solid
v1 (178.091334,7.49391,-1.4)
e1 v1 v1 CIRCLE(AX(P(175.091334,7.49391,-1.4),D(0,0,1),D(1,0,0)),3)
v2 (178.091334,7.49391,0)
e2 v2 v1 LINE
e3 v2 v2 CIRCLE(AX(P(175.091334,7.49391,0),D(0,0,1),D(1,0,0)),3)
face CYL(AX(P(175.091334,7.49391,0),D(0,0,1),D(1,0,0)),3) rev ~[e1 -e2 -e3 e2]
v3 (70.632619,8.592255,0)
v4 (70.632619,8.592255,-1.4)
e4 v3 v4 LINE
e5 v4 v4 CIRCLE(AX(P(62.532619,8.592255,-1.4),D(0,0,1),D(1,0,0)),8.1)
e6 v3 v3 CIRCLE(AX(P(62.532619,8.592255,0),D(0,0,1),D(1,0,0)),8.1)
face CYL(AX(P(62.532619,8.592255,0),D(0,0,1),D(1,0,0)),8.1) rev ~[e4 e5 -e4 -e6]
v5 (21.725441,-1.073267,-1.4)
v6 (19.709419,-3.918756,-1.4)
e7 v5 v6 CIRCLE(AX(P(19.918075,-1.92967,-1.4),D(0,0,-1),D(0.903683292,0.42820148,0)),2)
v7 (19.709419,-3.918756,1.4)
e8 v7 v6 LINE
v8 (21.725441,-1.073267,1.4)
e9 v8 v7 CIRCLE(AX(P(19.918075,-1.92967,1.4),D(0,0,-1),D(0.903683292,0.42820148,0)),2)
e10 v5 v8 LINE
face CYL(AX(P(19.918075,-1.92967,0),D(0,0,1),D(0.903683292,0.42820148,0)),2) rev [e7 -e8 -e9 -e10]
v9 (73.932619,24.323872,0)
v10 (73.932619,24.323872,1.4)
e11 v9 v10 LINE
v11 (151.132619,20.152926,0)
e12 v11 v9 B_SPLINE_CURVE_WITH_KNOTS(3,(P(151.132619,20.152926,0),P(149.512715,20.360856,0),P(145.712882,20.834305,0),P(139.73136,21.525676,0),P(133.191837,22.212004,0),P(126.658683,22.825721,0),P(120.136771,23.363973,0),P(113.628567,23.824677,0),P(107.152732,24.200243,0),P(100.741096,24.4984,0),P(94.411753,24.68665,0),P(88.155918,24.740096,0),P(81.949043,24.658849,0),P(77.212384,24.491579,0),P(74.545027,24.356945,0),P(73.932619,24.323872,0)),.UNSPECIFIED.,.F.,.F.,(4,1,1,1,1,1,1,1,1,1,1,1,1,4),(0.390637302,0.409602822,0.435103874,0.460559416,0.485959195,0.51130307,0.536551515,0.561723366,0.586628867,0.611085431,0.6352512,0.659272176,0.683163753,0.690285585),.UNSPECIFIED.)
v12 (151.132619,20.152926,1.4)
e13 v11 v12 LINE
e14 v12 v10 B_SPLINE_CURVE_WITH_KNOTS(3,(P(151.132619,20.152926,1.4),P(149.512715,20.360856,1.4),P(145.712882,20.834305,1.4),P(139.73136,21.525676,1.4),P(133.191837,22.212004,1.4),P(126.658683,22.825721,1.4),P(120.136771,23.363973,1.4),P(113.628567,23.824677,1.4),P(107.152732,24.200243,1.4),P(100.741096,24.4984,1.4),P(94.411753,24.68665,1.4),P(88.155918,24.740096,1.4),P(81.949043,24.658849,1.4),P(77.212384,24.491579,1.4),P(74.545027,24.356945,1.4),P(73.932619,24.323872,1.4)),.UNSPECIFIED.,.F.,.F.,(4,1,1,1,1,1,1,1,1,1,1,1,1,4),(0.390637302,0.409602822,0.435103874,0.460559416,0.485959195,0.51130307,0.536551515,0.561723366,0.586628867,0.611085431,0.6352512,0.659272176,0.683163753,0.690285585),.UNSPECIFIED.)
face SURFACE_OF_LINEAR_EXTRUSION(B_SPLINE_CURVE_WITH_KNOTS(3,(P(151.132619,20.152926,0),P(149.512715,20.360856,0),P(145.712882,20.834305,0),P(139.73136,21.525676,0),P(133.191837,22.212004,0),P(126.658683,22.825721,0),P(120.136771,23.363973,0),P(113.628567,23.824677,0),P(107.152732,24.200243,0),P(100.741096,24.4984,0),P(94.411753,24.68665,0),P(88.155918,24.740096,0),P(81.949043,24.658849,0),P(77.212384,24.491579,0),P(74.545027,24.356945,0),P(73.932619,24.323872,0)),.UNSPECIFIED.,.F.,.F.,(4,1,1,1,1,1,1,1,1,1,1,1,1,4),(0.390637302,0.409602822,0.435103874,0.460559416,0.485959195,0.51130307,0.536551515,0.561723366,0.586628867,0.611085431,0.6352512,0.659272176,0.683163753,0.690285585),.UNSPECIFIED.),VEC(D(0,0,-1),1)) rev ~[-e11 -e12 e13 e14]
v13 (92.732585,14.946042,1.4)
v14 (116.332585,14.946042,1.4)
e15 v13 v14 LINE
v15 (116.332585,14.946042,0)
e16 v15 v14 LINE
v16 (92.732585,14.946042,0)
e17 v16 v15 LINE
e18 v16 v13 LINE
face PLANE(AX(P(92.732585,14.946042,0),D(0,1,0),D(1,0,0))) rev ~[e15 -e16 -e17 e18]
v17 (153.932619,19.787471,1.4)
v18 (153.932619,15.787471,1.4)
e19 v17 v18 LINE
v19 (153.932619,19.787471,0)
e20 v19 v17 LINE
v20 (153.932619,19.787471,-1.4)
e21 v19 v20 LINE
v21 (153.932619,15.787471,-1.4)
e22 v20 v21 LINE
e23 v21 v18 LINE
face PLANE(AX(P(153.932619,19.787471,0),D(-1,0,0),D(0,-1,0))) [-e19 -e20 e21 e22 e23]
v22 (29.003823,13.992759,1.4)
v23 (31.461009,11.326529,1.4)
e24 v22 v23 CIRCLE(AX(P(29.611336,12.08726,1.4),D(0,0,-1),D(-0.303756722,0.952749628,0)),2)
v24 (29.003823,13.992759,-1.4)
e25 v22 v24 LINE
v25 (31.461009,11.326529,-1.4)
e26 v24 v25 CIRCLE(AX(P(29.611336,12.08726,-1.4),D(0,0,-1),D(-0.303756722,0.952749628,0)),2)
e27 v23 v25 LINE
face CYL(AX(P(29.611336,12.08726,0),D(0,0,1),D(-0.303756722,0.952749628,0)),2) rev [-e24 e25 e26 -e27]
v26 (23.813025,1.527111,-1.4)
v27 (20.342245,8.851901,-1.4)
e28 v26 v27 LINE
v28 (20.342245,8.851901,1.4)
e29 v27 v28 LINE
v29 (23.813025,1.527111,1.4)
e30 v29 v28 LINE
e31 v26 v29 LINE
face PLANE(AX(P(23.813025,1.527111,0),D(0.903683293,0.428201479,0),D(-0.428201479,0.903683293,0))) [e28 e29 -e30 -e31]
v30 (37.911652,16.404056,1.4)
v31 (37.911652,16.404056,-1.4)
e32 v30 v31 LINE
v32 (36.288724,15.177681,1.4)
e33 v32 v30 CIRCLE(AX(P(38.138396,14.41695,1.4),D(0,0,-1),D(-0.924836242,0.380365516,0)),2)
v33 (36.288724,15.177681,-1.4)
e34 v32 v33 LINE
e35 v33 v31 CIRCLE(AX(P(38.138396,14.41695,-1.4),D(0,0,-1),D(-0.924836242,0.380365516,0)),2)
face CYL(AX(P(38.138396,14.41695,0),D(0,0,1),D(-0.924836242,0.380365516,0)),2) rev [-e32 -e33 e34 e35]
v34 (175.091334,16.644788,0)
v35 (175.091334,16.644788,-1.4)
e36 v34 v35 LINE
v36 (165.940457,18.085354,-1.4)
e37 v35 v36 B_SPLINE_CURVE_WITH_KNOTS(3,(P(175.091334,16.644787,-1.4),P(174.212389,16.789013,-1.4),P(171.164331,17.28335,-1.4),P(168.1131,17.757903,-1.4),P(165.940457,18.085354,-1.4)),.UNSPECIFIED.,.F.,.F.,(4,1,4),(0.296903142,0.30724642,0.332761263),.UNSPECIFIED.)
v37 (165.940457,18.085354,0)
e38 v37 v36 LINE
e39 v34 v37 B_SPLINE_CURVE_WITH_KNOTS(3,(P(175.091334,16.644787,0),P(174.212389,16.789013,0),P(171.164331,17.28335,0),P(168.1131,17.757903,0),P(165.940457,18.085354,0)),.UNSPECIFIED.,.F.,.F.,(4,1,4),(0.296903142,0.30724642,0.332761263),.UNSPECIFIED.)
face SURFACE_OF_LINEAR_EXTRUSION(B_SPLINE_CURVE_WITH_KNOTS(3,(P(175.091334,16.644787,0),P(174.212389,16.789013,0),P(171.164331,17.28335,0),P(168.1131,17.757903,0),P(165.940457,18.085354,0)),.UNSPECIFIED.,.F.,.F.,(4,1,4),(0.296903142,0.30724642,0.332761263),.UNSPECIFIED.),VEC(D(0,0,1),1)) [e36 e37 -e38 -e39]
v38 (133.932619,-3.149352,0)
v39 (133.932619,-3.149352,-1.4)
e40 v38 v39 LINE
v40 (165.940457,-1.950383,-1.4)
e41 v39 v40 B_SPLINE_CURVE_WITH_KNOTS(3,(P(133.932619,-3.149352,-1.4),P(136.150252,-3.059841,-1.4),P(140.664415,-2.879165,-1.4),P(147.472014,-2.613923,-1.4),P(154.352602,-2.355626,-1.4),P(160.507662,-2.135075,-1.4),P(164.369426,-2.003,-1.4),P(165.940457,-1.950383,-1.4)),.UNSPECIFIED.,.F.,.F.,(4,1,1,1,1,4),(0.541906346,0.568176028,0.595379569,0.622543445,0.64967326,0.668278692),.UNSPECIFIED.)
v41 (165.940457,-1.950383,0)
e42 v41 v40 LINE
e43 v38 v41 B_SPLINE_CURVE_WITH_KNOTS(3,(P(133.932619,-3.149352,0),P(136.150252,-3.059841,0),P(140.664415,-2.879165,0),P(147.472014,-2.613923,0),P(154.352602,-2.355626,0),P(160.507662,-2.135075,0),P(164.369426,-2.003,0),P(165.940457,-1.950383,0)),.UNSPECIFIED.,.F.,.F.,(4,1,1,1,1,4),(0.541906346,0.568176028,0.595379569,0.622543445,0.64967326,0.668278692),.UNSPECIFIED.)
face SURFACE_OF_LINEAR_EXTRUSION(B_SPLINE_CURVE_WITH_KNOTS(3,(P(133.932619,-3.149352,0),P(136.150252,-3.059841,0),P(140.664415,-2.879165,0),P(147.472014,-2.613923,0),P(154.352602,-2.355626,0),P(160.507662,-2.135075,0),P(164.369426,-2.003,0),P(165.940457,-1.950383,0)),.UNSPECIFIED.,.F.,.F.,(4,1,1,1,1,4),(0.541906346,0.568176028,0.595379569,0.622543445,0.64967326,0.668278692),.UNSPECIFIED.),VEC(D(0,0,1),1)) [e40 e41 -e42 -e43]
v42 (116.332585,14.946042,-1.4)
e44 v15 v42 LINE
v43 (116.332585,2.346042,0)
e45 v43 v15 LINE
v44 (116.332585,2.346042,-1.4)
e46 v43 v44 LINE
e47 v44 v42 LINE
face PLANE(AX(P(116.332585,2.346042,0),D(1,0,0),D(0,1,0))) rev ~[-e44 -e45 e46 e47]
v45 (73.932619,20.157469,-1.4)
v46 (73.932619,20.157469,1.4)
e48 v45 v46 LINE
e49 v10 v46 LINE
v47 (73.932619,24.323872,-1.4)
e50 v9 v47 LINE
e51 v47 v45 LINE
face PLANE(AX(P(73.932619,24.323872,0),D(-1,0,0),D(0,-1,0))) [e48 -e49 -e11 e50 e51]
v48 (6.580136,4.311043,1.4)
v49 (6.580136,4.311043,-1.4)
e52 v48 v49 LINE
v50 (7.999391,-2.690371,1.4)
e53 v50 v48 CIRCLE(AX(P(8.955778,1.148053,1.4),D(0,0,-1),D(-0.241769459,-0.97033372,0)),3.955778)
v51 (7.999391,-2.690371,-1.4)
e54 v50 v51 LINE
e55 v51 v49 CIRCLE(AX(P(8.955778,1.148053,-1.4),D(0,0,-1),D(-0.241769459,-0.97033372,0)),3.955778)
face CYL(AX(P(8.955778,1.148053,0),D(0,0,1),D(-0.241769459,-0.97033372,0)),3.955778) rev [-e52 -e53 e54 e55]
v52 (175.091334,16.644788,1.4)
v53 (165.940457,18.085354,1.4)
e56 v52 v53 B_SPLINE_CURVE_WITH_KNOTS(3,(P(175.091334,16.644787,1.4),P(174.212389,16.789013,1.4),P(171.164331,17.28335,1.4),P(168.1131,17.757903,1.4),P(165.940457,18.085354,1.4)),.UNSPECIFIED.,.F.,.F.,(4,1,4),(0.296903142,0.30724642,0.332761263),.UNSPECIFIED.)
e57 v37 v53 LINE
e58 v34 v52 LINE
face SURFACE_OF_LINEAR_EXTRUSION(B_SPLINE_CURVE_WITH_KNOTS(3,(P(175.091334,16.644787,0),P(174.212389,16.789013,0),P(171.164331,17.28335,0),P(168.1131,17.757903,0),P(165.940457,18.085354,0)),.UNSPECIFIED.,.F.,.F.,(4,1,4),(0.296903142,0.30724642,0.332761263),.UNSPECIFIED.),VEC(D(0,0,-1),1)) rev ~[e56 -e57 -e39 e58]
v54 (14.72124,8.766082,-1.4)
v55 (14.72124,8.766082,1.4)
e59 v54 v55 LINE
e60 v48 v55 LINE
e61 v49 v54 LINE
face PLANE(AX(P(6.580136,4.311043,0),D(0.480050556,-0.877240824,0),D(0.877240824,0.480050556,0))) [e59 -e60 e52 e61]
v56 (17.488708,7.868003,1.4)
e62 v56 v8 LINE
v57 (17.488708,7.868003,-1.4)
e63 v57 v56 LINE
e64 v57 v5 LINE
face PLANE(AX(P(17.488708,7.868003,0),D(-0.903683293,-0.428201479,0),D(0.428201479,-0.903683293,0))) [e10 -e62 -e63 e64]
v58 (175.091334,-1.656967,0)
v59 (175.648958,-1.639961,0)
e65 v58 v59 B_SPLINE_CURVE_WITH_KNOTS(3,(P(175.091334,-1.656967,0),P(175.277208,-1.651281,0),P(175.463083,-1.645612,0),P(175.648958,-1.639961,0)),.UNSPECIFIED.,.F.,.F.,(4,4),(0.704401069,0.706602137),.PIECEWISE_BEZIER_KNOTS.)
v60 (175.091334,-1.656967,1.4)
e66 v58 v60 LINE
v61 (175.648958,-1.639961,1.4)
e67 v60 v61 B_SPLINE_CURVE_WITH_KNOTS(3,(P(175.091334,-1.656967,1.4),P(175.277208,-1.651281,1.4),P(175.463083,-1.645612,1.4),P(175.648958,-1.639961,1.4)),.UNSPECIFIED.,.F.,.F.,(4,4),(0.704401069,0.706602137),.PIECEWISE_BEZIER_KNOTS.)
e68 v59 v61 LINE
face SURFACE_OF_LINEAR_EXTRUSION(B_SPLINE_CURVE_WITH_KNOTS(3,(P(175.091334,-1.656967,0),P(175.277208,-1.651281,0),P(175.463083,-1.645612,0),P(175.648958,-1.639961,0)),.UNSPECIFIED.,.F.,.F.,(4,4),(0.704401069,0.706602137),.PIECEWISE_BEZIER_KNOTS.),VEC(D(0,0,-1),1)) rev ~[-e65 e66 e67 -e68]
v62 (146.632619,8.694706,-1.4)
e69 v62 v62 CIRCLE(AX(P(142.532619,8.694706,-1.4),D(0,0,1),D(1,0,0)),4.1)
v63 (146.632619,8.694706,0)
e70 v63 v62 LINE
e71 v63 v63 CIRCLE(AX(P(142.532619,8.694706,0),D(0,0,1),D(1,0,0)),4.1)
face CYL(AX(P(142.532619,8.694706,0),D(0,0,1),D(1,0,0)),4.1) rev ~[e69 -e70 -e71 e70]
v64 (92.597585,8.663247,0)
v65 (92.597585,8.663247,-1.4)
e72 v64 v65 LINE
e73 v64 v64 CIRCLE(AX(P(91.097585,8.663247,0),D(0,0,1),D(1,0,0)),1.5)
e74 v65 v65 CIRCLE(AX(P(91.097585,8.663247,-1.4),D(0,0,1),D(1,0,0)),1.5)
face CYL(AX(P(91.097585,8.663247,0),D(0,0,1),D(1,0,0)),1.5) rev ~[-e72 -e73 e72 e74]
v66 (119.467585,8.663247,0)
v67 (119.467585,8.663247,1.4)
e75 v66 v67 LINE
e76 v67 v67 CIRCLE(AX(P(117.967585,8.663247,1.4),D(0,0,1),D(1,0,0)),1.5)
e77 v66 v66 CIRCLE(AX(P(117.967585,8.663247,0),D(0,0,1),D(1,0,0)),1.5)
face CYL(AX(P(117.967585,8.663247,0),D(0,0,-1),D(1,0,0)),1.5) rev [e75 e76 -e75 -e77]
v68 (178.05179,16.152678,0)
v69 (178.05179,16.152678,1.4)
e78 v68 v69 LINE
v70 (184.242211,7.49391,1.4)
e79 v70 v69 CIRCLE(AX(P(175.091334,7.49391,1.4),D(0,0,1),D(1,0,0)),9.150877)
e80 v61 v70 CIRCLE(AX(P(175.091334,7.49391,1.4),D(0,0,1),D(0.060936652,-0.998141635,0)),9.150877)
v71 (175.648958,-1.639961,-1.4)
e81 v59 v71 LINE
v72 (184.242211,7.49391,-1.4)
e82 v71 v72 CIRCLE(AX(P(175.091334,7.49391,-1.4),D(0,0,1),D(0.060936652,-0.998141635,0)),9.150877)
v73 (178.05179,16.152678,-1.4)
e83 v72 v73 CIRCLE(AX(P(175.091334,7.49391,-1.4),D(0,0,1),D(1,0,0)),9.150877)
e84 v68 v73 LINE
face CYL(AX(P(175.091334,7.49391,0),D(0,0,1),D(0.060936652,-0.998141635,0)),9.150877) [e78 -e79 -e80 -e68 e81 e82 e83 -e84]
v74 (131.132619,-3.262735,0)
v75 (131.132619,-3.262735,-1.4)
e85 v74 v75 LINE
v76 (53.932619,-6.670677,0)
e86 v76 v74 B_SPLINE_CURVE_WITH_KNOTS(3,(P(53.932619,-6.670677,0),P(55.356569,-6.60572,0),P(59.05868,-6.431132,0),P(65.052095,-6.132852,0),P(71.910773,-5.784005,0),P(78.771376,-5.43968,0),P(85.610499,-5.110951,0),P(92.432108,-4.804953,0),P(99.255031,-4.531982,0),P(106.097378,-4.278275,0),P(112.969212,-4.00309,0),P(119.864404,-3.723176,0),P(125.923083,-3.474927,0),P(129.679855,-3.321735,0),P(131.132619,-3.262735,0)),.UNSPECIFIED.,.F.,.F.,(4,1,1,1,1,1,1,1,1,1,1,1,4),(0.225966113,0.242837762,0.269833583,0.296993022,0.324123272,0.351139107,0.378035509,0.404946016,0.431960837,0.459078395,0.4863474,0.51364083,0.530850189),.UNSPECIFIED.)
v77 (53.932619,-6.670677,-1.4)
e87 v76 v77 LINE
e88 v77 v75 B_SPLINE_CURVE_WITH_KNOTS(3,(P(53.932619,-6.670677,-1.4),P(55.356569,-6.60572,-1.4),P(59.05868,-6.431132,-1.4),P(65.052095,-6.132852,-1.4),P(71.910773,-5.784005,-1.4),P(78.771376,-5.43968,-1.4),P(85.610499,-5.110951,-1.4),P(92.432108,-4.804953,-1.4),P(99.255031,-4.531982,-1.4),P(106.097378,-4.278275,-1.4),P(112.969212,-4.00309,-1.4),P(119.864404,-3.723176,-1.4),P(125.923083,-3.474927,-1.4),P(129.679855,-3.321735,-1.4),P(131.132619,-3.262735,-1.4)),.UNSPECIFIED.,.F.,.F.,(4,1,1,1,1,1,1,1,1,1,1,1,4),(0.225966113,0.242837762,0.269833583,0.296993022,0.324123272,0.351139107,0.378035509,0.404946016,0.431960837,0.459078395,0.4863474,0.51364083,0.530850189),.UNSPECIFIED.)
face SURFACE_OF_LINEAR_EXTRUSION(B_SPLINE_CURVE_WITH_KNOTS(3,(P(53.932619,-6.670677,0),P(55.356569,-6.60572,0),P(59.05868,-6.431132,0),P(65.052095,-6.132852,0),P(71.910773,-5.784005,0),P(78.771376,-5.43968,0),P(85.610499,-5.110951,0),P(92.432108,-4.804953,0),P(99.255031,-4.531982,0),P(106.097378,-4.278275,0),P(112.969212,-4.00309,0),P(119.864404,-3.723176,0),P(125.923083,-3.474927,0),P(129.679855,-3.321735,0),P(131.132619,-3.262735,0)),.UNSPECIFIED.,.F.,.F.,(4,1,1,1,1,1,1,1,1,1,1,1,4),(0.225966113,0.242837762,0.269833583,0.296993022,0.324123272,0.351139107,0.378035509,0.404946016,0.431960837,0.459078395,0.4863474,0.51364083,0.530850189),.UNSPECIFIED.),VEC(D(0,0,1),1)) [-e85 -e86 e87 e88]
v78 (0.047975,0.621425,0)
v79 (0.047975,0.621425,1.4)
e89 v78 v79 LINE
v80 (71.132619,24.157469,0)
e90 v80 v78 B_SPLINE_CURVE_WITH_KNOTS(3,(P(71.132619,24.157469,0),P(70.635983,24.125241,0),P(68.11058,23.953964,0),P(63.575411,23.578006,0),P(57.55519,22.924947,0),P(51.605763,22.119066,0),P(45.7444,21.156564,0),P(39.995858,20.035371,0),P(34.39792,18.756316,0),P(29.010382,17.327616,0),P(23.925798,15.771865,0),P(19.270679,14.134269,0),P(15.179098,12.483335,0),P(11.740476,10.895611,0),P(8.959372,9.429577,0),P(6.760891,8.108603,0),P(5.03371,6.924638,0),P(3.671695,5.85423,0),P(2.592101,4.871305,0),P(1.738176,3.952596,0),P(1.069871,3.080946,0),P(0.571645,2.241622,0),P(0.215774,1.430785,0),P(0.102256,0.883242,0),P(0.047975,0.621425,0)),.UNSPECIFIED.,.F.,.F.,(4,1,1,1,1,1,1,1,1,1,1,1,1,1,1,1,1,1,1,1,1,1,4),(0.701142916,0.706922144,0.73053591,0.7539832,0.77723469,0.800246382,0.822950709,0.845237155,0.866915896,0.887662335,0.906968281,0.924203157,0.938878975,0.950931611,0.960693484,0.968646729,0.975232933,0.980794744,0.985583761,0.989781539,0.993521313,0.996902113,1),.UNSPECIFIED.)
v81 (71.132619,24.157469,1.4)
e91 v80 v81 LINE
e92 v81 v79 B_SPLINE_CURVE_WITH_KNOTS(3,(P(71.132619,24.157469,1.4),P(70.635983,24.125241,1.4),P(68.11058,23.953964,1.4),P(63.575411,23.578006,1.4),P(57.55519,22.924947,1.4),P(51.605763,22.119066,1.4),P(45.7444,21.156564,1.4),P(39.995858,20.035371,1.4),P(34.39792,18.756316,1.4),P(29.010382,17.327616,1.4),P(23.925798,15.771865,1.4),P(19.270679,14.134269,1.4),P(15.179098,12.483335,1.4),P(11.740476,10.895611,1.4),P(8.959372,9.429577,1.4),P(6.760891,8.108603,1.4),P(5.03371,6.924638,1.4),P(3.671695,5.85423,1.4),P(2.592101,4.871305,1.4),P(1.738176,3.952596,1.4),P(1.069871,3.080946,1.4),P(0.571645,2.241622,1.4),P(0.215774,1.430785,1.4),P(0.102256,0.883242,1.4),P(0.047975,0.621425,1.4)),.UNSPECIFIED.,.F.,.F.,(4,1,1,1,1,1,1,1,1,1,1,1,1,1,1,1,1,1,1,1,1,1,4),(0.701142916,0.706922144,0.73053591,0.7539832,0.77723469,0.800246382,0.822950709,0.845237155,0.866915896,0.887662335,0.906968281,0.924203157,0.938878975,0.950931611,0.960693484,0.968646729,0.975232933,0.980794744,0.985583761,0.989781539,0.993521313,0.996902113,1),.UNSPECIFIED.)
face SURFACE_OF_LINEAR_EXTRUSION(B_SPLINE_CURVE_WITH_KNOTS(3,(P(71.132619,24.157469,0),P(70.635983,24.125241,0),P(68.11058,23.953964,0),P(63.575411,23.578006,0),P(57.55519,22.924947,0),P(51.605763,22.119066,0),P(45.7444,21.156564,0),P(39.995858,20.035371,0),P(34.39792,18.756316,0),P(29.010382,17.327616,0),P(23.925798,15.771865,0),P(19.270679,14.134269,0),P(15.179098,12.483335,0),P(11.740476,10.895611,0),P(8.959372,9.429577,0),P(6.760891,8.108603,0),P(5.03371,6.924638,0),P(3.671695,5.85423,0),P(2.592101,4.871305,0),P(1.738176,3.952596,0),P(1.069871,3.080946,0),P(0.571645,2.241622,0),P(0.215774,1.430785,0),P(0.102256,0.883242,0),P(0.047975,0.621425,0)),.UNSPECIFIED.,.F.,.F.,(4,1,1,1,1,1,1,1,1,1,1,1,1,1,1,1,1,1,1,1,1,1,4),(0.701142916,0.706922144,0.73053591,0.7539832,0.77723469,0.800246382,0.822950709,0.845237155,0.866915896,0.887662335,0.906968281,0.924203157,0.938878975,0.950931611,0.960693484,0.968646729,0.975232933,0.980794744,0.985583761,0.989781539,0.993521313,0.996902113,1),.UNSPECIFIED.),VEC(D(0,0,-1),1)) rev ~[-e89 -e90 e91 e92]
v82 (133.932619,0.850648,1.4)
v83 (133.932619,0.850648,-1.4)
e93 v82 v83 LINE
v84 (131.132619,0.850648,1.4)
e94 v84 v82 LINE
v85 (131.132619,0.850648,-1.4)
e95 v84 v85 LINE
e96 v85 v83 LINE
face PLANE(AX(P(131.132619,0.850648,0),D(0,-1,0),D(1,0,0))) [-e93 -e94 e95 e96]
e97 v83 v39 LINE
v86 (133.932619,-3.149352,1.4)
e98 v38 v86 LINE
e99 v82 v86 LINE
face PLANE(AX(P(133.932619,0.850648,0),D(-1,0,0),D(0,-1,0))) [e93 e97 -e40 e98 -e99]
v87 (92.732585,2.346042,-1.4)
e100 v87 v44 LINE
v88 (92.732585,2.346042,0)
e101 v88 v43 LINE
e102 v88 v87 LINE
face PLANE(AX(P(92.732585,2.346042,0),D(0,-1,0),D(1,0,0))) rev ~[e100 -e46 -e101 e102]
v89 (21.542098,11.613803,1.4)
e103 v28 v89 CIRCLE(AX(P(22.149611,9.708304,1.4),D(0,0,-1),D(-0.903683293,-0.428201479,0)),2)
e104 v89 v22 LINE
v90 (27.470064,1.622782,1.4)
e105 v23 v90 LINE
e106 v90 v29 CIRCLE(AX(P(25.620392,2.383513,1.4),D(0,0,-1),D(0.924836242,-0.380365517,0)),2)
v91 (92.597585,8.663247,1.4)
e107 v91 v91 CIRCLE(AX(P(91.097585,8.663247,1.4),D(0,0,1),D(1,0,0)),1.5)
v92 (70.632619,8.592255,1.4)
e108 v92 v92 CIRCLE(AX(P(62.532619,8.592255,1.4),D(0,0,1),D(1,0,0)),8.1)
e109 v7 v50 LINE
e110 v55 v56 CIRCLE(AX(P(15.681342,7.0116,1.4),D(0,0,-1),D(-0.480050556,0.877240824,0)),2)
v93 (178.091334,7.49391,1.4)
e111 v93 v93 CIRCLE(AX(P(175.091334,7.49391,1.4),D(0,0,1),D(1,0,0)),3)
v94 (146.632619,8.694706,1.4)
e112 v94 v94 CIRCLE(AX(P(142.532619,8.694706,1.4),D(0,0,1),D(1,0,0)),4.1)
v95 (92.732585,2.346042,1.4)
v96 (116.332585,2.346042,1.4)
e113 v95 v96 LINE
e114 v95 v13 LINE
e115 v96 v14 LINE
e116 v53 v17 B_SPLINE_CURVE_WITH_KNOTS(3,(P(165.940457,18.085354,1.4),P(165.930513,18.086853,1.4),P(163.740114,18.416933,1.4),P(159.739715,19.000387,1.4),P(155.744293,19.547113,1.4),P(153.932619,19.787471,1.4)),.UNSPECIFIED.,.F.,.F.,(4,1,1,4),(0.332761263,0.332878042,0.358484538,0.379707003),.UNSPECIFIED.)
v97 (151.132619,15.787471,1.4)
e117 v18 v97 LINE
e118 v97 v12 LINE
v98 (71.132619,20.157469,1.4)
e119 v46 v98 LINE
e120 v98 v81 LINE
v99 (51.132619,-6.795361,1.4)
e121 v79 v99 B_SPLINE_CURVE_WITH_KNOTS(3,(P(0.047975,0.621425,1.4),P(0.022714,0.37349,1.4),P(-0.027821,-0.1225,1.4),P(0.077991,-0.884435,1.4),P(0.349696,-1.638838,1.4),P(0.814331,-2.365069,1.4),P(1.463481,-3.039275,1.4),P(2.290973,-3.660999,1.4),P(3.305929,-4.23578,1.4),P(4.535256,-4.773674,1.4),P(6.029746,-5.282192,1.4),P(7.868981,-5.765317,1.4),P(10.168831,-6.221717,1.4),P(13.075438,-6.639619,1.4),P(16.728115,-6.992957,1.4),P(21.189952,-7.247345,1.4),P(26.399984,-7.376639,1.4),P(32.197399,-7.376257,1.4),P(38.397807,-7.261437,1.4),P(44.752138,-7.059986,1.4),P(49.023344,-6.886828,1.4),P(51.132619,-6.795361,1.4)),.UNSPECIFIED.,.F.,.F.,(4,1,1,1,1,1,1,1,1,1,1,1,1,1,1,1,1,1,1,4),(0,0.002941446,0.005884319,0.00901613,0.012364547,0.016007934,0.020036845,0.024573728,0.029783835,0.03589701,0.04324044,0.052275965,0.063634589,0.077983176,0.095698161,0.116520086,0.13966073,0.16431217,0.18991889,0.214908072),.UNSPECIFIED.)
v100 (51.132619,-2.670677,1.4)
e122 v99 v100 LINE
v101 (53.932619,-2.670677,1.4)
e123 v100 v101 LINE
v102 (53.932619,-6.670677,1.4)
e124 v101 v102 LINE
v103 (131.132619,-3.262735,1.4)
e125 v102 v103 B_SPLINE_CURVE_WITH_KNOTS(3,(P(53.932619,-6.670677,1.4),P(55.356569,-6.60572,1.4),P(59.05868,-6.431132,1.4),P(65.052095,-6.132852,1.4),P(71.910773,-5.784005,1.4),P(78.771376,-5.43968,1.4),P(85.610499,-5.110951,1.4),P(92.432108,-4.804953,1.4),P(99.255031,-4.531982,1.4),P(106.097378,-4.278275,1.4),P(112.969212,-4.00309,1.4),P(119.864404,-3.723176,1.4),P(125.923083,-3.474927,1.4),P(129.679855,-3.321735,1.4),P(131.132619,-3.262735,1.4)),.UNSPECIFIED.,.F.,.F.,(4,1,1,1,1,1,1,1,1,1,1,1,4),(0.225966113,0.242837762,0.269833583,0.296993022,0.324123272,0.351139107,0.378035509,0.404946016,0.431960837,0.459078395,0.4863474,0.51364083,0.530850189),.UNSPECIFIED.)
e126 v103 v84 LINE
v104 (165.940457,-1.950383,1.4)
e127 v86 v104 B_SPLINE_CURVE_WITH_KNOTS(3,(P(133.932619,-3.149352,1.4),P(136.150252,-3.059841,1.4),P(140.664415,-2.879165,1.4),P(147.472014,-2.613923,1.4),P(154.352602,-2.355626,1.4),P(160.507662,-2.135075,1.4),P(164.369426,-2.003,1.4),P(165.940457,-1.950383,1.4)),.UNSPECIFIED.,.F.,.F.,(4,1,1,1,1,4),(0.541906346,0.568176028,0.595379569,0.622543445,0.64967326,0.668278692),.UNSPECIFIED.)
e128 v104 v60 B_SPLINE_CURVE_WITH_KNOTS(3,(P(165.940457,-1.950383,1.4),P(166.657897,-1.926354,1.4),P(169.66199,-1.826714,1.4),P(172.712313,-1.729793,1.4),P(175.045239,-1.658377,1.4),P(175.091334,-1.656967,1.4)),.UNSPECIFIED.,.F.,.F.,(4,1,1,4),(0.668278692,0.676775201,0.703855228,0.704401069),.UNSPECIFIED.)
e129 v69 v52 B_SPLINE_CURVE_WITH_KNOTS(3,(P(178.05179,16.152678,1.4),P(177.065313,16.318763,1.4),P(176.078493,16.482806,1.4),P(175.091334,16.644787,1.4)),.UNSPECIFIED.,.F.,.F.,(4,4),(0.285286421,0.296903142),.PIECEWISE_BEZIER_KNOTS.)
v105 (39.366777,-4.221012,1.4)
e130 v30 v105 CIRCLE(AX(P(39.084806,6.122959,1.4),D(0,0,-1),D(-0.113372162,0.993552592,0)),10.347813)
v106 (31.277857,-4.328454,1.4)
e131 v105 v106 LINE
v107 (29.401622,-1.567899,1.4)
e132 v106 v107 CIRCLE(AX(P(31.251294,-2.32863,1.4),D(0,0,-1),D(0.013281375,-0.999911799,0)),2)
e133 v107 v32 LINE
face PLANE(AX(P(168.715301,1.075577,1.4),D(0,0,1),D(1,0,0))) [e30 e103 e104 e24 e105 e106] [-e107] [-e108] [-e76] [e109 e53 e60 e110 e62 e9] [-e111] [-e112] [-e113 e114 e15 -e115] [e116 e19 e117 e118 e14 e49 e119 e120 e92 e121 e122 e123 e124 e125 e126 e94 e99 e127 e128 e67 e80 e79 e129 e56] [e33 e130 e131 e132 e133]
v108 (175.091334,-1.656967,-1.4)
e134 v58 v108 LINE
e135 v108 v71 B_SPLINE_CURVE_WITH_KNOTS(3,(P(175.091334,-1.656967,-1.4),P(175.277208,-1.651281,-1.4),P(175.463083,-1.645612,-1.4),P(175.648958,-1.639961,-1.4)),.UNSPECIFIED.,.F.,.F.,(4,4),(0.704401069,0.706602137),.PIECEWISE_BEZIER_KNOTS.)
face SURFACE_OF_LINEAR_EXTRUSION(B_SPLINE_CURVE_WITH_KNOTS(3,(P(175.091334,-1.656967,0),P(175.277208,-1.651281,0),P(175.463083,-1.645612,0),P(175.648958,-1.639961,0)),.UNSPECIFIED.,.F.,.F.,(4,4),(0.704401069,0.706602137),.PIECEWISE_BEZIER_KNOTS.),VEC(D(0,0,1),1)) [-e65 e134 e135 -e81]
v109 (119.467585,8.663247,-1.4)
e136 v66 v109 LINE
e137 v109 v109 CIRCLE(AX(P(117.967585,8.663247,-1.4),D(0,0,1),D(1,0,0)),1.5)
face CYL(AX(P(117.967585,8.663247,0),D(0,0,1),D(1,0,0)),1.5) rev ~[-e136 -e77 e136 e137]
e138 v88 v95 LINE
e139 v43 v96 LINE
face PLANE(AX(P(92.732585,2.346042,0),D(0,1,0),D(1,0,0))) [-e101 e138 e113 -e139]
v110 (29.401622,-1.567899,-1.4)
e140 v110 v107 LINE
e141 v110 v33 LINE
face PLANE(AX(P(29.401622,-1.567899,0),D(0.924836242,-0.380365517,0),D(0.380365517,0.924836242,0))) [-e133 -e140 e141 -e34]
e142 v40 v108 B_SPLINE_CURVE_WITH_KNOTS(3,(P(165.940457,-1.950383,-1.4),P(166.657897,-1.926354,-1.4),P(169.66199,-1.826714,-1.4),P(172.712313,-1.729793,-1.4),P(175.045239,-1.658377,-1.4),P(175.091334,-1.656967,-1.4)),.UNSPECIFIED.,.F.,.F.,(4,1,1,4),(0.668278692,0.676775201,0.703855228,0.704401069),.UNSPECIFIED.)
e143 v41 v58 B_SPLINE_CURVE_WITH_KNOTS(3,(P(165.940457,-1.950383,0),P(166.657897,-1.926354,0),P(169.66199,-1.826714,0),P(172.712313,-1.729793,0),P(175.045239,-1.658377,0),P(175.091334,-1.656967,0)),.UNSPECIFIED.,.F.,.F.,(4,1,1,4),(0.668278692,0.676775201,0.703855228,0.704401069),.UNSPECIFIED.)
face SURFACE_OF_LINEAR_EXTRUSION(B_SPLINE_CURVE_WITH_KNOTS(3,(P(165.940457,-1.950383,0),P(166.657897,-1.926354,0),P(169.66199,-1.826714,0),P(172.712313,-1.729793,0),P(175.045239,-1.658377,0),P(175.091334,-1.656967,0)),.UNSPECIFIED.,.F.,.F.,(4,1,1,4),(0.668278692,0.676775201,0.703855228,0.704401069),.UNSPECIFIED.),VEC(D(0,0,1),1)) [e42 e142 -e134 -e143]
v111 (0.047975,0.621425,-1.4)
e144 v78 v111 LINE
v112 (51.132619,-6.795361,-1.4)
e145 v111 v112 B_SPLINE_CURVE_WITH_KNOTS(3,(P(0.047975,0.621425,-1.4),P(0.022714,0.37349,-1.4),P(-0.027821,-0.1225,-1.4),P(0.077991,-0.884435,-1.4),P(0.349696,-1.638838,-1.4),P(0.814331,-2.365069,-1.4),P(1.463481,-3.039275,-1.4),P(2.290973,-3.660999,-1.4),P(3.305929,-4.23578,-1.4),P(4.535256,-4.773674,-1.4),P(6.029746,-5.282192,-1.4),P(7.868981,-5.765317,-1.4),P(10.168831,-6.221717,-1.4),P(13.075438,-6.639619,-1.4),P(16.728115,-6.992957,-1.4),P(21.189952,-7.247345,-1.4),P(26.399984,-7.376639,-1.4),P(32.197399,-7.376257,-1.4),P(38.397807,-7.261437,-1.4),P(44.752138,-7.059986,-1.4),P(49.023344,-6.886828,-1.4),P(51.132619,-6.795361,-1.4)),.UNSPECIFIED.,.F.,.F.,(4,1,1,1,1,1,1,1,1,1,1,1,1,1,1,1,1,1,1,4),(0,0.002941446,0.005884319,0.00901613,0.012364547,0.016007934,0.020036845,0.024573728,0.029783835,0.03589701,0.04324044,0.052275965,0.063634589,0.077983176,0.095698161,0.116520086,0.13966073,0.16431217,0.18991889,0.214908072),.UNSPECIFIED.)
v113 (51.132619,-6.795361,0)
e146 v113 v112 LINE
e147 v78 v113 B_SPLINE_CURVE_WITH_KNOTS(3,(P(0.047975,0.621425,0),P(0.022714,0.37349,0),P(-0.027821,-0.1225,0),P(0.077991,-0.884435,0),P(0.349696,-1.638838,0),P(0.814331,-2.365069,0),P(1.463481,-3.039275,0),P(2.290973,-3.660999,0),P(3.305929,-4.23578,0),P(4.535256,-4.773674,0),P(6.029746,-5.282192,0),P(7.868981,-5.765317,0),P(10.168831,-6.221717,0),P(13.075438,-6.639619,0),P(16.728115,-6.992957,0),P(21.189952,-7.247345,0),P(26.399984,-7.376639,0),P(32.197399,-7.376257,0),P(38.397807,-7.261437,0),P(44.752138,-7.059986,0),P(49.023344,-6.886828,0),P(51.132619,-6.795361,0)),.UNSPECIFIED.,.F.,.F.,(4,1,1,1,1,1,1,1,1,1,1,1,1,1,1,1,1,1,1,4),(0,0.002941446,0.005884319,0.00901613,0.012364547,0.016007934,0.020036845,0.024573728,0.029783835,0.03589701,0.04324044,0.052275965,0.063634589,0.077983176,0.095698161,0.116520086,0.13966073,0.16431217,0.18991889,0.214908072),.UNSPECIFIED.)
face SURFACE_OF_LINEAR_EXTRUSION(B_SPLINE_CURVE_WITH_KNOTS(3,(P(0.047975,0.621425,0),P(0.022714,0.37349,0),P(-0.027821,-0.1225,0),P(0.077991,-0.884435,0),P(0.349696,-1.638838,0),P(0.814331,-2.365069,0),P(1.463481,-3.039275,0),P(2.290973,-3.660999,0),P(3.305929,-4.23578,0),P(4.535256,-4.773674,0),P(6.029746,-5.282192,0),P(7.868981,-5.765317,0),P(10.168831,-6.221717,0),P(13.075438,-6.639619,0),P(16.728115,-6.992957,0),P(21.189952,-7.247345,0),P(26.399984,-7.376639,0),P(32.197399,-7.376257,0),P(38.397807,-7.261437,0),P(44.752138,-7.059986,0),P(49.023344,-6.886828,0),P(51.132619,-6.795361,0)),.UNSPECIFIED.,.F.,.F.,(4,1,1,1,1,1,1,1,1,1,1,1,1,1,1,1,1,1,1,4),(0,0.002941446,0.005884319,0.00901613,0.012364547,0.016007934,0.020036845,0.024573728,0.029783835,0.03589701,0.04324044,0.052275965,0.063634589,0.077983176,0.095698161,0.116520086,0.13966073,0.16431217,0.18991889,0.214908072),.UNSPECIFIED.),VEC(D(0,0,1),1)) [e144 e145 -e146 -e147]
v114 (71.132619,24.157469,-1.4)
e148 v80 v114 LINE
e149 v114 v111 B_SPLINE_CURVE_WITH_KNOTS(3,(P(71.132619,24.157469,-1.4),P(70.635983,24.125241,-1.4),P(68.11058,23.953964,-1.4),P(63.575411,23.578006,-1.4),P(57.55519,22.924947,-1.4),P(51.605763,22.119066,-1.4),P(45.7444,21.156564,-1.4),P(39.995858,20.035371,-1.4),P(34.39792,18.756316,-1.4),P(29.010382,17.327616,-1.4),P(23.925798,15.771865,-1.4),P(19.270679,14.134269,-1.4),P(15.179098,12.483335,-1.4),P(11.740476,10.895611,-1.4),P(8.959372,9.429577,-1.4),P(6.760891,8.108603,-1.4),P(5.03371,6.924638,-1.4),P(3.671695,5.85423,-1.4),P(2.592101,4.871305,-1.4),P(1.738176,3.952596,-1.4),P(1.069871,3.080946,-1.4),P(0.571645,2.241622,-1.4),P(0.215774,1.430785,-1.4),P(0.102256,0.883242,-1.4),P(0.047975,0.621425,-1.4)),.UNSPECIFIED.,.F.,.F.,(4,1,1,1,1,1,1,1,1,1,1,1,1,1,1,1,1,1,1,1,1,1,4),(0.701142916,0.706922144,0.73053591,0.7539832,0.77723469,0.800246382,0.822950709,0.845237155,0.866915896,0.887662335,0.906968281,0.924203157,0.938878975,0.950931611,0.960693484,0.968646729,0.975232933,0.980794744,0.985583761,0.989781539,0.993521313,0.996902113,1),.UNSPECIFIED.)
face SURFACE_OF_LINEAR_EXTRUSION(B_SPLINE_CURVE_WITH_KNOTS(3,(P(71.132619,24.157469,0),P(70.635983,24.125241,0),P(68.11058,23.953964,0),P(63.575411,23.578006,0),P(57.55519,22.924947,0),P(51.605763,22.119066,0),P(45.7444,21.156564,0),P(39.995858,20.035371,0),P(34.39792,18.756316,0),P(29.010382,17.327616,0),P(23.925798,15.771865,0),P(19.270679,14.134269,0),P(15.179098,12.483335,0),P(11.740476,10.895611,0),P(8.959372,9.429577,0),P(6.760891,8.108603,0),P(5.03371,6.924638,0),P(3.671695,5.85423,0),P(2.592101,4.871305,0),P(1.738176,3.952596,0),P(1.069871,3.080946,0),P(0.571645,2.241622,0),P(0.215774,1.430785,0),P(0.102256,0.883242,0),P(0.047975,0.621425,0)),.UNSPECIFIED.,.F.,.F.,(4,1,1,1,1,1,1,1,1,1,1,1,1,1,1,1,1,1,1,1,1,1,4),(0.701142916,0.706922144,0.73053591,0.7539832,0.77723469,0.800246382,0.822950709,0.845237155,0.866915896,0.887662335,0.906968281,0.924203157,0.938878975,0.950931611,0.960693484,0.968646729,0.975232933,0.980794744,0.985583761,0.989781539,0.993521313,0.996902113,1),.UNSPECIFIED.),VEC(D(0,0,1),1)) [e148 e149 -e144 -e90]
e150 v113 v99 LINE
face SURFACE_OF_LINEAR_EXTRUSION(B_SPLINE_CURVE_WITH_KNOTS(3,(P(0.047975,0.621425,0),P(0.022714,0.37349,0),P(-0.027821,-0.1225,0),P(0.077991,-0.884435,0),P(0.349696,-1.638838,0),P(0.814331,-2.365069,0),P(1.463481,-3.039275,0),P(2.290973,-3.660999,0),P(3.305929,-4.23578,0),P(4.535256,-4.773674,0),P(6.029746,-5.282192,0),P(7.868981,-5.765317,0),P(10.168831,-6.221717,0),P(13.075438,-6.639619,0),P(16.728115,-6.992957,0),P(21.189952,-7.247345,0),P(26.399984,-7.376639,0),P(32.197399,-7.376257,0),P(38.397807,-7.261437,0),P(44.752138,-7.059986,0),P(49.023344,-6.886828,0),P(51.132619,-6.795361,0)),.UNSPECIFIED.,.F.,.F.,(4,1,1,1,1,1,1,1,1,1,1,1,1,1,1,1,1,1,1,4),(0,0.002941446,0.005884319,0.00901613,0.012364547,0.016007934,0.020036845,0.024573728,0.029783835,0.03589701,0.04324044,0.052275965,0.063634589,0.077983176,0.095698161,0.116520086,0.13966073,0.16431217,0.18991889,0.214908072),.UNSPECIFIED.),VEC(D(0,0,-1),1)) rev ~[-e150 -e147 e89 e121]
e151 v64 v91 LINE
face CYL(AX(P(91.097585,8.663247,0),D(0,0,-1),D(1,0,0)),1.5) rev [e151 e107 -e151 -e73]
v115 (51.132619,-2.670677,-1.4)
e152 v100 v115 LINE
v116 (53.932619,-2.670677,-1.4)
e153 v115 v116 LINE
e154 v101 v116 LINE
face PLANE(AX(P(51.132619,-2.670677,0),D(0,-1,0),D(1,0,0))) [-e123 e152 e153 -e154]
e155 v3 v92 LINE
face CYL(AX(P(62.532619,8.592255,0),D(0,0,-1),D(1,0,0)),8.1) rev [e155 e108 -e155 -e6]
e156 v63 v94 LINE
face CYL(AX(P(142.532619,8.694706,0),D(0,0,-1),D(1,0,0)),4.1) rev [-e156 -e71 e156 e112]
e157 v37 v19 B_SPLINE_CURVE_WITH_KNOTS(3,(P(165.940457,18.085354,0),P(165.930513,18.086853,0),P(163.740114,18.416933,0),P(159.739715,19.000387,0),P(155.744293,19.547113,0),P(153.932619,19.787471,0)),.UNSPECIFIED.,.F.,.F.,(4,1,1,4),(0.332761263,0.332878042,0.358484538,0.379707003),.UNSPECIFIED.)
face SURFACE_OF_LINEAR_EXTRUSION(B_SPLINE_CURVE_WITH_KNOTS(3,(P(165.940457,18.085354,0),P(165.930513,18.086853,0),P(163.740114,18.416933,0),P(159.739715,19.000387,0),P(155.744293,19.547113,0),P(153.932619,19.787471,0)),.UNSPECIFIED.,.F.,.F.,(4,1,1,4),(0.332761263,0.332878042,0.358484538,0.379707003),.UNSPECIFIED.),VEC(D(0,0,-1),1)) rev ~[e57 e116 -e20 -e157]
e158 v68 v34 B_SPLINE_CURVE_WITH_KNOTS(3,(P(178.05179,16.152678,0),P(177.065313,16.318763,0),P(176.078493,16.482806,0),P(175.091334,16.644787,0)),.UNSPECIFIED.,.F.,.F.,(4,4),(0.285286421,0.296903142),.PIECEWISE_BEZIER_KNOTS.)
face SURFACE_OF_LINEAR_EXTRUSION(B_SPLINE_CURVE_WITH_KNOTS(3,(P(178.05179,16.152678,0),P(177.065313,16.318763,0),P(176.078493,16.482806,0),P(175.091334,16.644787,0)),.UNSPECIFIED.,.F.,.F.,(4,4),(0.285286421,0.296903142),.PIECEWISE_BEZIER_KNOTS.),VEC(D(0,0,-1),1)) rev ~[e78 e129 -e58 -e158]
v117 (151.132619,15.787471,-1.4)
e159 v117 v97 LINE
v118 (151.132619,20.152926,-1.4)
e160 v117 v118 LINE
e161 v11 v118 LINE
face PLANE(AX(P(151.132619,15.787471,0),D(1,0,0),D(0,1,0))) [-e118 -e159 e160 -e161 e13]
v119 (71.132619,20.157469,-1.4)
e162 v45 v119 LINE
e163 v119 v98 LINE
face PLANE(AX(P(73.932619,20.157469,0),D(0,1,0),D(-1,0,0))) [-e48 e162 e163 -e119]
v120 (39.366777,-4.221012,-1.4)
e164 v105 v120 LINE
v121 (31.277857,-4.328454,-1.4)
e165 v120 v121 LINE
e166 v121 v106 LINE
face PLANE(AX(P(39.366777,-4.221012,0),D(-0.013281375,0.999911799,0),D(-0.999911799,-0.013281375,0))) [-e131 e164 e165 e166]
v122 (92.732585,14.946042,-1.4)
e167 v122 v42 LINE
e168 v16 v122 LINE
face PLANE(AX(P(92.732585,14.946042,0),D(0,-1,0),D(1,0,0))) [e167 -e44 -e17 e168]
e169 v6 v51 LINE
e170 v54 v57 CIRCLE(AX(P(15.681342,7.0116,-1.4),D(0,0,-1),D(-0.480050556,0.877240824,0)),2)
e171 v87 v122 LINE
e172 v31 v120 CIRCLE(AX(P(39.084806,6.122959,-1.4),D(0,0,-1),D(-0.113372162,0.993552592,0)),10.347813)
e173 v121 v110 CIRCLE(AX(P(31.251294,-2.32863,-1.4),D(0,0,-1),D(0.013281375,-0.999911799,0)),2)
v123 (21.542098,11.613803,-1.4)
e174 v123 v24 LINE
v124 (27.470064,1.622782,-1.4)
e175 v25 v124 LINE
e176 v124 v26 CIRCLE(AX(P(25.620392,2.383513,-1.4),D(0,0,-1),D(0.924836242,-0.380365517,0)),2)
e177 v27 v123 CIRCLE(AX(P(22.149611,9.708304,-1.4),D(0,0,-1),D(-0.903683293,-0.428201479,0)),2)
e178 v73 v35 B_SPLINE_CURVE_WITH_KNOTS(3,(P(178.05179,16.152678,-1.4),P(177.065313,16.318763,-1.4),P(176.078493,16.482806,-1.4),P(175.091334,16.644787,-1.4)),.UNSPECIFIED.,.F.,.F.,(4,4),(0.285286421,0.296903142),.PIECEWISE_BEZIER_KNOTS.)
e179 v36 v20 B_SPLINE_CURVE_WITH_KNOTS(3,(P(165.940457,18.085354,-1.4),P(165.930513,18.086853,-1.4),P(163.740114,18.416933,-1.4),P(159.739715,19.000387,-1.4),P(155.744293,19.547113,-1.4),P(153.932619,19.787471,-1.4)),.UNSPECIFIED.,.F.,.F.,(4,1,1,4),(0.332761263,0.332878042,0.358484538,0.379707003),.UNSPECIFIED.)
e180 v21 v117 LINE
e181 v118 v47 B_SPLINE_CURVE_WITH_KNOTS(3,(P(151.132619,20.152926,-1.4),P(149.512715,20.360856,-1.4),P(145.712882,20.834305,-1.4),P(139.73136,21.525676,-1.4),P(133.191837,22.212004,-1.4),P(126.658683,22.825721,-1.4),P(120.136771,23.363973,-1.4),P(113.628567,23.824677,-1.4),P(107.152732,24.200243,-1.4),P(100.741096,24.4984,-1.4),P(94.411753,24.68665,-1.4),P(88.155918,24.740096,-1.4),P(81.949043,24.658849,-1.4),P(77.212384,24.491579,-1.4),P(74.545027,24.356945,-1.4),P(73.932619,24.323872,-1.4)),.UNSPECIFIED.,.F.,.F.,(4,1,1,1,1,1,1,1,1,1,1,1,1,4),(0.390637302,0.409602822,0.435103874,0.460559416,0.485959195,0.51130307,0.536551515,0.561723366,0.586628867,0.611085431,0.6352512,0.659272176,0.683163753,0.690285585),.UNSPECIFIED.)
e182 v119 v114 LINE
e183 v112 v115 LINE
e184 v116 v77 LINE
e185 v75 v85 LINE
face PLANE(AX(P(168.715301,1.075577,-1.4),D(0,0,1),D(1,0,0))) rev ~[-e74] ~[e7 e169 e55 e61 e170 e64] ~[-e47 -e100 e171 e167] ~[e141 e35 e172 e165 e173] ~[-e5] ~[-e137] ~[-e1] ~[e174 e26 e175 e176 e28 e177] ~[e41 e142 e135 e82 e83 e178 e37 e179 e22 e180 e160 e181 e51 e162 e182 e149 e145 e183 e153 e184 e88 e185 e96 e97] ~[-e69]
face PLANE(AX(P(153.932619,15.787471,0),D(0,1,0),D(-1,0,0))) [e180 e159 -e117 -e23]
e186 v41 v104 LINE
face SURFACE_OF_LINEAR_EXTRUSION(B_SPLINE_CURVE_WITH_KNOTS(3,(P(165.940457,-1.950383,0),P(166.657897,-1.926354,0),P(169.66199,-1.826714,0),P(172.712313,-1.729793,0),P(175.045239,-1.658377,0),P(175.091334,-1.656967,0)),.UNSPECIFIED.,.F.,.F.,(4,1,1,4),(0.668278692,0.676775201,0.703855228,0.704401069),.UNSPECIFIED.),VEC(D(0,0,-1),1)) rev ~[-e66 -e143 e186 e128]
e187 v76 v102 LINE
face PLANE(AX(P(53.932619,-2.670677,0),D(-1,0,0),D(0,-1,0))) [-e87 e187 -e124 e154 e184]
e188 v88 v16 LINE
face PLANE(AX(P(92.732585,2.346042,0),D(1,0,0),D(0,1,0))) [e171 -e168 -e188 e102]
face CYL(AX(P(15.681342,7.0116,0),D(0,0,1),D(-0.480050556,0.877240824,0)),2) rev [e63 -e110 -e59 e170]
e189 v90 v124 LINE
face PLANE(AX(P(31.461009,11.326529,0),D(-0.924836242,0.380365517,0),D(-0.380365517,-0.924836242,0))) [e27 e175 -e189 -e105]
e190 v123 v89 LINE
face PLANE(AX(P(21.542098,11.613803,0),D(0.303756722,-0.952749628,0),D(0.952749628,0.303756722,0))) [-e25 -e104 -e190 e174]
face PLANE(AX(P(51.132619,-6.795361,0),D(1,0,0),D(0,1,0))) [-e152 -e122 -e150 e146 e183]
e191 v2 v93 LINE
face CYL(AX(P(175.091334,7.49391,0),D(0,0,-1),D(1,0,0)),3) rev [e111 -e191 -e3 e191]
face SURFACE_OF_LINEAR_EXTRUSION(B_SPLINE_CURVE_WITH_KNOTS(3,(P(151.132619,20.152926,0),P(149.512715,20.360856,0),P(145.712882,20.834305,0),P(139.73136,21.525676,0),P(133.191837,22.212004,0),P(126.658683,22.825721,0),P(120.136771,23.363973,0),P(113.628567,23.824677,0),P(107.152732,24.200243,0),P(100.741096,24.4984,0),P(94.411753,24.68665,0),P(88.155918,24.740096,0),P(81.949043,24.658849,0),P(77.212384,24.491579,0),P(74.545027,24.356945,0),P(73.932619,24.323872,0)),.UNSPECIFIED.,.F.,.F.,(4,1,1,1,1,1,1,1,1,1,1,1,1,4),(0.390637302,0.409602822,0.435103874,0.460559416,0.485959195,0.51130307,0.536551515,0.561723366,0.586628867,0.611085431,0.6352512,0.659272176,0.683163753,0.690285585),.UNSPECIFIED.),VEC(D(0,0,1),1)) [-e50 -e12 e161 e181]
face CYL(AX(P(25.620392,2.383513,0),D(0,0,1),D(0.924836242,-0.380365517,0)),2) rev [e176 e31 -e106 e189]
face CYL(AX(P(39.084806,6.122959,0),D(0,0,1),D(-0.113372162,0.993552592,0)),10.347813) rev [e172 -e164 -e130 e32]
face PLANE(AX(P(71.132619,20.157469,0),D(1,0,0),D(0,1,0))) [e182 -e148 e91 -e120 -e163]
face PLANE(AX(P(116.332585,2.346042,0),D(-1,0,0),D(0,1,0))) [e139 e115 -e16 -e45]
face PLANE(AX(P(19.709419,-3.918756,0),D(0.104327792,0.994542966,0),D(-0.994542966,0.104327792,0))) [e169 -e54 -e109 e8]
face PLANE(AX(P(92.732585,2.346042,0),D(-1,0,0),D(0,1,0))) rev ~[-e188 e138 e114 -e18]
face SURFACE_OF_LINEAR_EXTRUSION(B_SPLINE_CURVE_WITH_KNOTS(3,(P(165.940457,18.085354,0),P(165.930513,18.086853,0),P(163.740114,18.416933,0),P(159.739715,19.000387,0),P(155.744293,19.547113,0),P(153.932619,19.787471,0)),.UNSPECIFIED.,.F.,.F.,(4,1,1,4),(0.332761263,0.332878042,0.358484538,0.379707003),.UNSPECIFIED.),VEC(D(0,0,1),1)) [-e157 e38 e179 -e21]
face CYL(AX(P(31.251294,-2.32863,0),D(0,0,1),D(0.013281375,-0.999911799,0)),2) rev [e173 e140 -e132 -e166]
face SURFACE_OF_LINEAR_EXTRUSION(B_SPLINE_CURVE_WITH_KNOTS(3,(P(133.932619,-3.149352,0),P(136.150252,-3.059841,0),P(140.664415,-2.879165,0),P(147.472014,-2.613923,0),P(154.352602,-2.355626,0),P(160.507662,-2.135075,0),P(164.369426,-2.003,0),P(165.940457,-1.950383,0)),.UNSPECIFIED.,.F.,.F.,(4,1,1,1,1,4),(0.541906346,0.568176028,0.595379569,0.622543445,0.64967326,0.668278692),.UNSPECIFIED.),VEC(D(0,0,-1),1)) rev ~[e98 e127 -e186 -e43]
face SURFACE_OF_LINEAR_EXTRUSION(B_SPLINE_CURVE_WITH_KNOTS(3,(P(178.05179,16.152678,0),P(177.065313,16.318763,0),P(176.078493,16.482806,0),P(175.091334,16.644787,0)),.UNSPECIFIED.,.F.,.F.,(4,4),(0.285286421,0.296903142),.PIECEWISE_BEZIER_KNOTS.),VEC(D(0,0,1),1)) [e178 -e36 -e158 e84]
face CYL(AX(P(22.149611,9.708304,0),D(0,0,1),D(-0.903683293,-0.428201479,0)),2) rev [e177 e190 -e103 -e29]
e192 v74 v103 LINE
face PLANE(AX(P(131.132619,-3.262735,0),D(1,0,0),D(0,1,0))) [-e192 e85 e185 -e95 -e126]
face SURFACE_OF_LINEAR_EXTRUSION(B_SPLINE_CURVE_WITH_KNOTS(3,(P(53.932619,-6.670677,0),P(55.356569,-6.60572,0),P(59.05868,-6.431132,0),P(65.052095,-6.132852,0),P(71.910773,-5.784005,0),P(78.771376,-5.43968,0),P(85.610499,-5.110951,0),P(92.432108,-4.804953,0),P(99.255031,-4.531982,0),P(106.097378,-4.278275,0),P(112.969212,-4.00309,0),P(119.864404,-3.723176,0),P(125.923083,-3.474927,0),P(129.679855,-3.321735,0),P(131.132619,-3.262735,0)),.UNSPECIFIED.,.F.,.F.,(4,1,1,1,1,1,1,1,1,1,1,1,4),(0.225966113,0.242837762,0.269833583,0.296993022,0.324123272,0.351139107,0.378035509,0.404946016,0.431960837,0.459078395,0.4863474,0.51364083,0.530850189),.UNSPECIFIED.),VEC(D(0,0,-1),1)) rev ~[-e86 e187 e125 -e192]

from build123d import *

# Parameters (mm, degrees)
SKETCH_2_R      = 8.1
SKETCH_2_R_2    = 1.5
SKETCH_2_W      = 23.6
SKETCH_2_H      = 12.6
SKETCH_2_R_3    = 4.1
SKETCH_2_R_4    = 3
EXTRUDE_2_DEPTH = 1.4


with BuildPart() as part:
    # Эскиз2 → Бобышка-Вытянуть2 (new, symmetric)
    # profile 1 of 4: a face of its own
    with BuildSketch(Plane.XY):
        with BuildLine():
            Line((165.940456932, 7.493910465), (165.940456932, 18.08535451))
            add(Edge.make_bspline(
                [(165.940456927, 18.085354477), (165.930512982, 18.086853188), (163.740114219, 18.416932942), (159.739714866, 19.000386852), (155.744292591, 19.547112651), (153.932619318, 19.787470759)],
                knots=[0.332761263, 0.332761263, 0.332761263, 0.332761263, 0.332878042, 0.358484538, 0.379707003, 0.379707003, 0.379707003, 0.379707003], degree=3))
            Line((153.932619318, 19.787470759), (153.932619318, 15.787470759))
            Line((153.932619318, 15.787470759), (151.132619318, 15.787470759))
            Line((151.132619318, 15.787470759), (151.132619318, 20.152925753))
            add(Edge.make_bspline(
                [(151.132619318, 20.152925753), (149.51271539, 20.360855756), (145.712882211, 20.834305053), (139.731359791, 21.525676112), (133.19183673, 22.212004248), (126.658683026, 22.825721427), (120.136770918, 23.363973264), (113.62856714, 23.824677322), (107.152732037, 24.200242592), (100.741095693, 24.498399508), (94.411752715, 24.686649766), (88.155917993, 24.740095648), (81.949043055, 24.658849141), (77.212383792, 24.491578654), (74.545027167, 24.35694527), (73.932619318, 24.323871534)],
                knots=[0.390637302, 0.390637302, 0.390637302, 0.390637302, 0.409602822, 0.435103874, 0.460559416, 0.485959195, 0.51130307, 0.536551515, 0.561723366, 0.586628867, 0.611085431, 0.6352512, 0.659272176, 0.683163753, 0.690285585, 0.690285585, 0.690285585, 0.690285585], degree=3))
            Line((73.932619318, 24.323871534), (73.932619318, 20.157469486))
            Line((73.932619318, 20.157469486), (71.132619318, 20.157469486))
            Line((71.132619318, 20.157469486), (71.132619318, 24.157469486))
            add(Edge.make_bspline(
                [(71.132619318, 24.157469486), (70.635982629, 24.125241372), (68.110579653, 23.953963558), (63.575410502, 23.578006358), (57.555189551, 22.924946655), (51.605762689, 22.119065518), (45.744400312, 21.156564429), (39.995857594, 20.035371386), (34.397919843, 18.75631623), (29.010382104, 17.327615604), (23.925798409, 15.771864917), (19.27067884, 14.13426943), (15.179098392, 12.483335433), (11.740475791, 10.89561099), (8.959371869, 9.429577361), (6.760891181, 8.108603195), (5.033709749, 6.92463805), (3.671694934, 5.85422966), (2.592101124, 4.871305364), (1.738175669, 3.952595739), (1.069870831, 3.080946369), (0.571645411, 2.241622098), (0.2157739, 1.430785392), (0.102255582, 0.88324169), (0.047975001, 0.621424995)],
                knots=[0.701142916, 0.701142916, 0.701142916, 0.701142916, 0.706922144, 0.73053591, 0.7539832, 0.77723469, 0.800246382, 0.822950709, 0.845237155, 0.866915896, 0.887662335, 0.906968281, 0.924203157, 0.938878975, 0.950931611, 0.960693484, 0.968646729, 0.975232933, 0.980794744, 0.985583761, 0.989781539, 0.993521313, 0.996902113, 1, 1, 1, 1], degree=3))
            add(Edge.make_bspline(
                [(0.047975001, 0.621424995), (0.022713821, 0.373490081), (-0.027820788, -0.12249998), (0.077991213, -0.884434595), (0.349695651, -1.638838075), (0.814331136, -2.365068928), (1.463480781, -3.039275249), (2.290973018, -3.660999474), (3.305928751, -4.235779626), (4.53525562, -4.773674148), (6.029745689, -5.282192169), (7.868981216, -5.765316681), (10.168831393, -6.221716597), (13.07543819, -6.639618735), (16.728115364, -6.992956742), (21.189952097, -7.247345149), (26.399984417, -7.376638853), (32.197398565, -7.376256917), (38.39780676, -7.261436583), (44.752137938, -7.05998551), (49.023344092, -6.886827907), (51.132619318, -6.795360627)],
                knots=[0, 0, 0, 0, 0.002941446, 0.005884319, 0.00901613, 0.012364547, 0.016007934, 0.020036845, 0.024573728, 0.029783835, 0.03589701, 0.04324044, 0.052275965, 0.063634589, 0.077983176, 0.095698161, 0.116520086, 0.13966073, 0.16431217, 0.18991889, 0.214908072, 0.214908072, 0.214908072, 0.214908072], degree=3))
            Line((51.132619318, -6.795360627), (51.132619318, -2.670677263))
            Line((51.132619318, -2.670677263), (53.932619318, -2.670677263))
            Line((53.932619318, -2.670677263), (53.932619318, -6.670677263))
            add(Edge.make_bspline(
                [(53.932619318, -6.670677263), (55.356569482, -6.605720394), (59.058679651, -6.431131786), (65.052094606, -6.13285227), (71.91077271, -5.784005184), (78.771375577, -5.439680462), (85.61049861, -5.110951262), (92.43210759, -4.804953337), (99.255031191, -4.531981668), (106.097378406, -4.278274685), (112.969211681, -4.003089942), (119.864404255, -3.723176202), (125.92308308, -3.47492717), (129.679854903, -3.321735217), (131.132619318, -3.262735091)],
                knots=[0.225966113, 0.225966113, 0.225966113, 0.225966113, 0.242837762, 0.269833583, 0.296993022, 0.324123272, 0.351139107, 0.378035509, 0.404946016, 0.431960837, 0.459078395, 0.4863474, 0.51364083, 0.530850189, 0.530850189, 0.530850189, 0.530850189], degree=3))
            Line((131.132619318, -3.262735091), (131.132619318, 0.850647814))
            Line((131.132619318, 0.850647814), (133.932619318, 0.850647814))
            Line((133.932619318, 0.850647814), (133.932619318, -3.149352186))
            add(Edge.make_bspline(
                [(133.932619318, -3.149352186), (136.150252366, -3.05984138), (140.66441482, -2.879164577), (147.472013762, -2.613922958), (154.352602411, -2.355626415), (160.507662095, -2.135075484), (164.369425992, -2.00299999), (165.940456932, -1.950382964)],
                knots=[0.541906346, 0.541906346, 0.541906346, 0.541906346, 0.568176028, 0.595379569, 0.622543445, 0.64967326, 0.668278692, 0.668278692, 0.668278692, 0.668278692], degree=3))
            Line((165.940456932, -1.950382964), (165.940456932, 7.493910465))
        make_face()
        with BuildLine():
            ThreePointArc((14.721240391, 8.766081587), (16.29867531, 8.913940332), (17.488708089, 7.868002897))
            Line((17.488708089, 7.868002897), (21.725441093, -1.073266618))
            ThreePointArc((21.725441093, -1.073266618), (21.549996986, -3.085882804), (19.709418924, -3.918755509))
            Line((19.709418924, -3.918755509), (7.999391348, -2.690370853))
            ThreePointArc((7.999391348, -2.690370853), (5.078852056, 0.362162442), (6.580135706, 4.311042875))
            Line((6.580135706, 4.311042875), (14.721240391, 8.766081587))
        make_face(mode=Mode.SUBTRACT)
        with BuildLine():
            Line((23.813024955, 1.527110532), (20.342244628, 8.85190119))
            ThreePointArc((20.342244628, 8.85190119), (20.315234657, 10.50521233), (21.542097769, 11.613803404))
            Line((21.542097769, 11.613803404), (29.003823035, 13.992759157))
            ThreePointArc((29.003823035, 13.992759157), (31.082028751, 13.44264333), (31.461008962, 11.326528867))
            Line((31.461008962, 11.326528867), (27.470064023, 1.622782457))
            ThreePointArc((27.470064023, 1.622782457), (25.672695714, 0.384197539), (23.813024955, 1.527110532))
        make_face(mode=Mode.SUBTRACT)
        with BuildLine():
            ThreePointArc((31.277857225, -4.328453595), (29.59717908, -3.452864074), (29.401621993, -1.567898965))
            Line((29.401621993, -1.567898965), (36.28872379, 15.177681436))
            ThreePointArc((36.28872379, 15.177681436), (36.93262885, 16.01260855), (37.911651949, 16.404055587))
            ThreePointArc((37.911651949, 16.404055587), (49.40696202, 6.85120019), (39.366777065, -4.221012142))
            Line((39.366777065, -4.221012142), (31.277857225, -4.328453595))
        make_face(mode=Mode.SUBTRACT)
        with Locations((62.532619318, 8.592254753)):
            Circle(SKETCH_2_R, mode=Mode.SUBTRACT)
        with Locations((91.097584877, 8.663246996)):
            Circle(SKETCH_2_R_2, mode=Mode.SUBTRACT)
        with Locations((104.532584877, 8.646041596)):
            Rectangle(SKETCH_2_W, SKETCH_2_H, mode=Mode.SUBTRACT)
        with Locations((117.967584877, 8.663246996)):
            Circle(SKETCH_2_R_2, mode=Mode.SUBTRACT)
        with Locations((142.532619318, 8.694705966)):
            Circle(SKETCH_2_R_3, mode=Mode.SUBTRACT)
    # profile 2 of 4: a face of its own
    with BuildSketch(Plane.XY):
        with BuildLine():
            ThreePointArc((175.09133409, 16.644787515), (168.620686836, 13.964557687), (165.940456932, 7.493910465))
            ThreePointArc((165.940456932, 7.493910465), (168.62068676, 1.023263102), (175.091334091, -1.656966802))
            add(Edge.make_bspline(
                [(175.091334091, -1.656966802), (175.277208172, -1.651281031), (175.463082779, -1.645612457), (175.648957912, -1.639961136)],
                knots=[0.704401069, 0.704401069, 0.704401069, 0.704401069, 0.706602137, 0.706602137, 0.706602137, 0.706602137], degree=3))
            ThreePointArc((175.648957912, -1.639961136), (181.75621593, 1.223511419), (184.242211249, 7.493910357))
            ThreePointArc((184.242211249, 7.493910357), (182.535436414, 12.815930026), (178.051789748, 16.152677882))
            add(Edge.make_bspline(
                [(178.051789748, 16.152677882), (177.065313176, 16.318762985), (176.078492678, 16.482805505), (175.091334086, 16.644787486)],
                knots=[0.285286421, 0.285286421, 0.285286421, 0.285286421, 0.296903142, 0.296903142, 0.296903142, 0.296903142], degree=3))
        make_face()
        with Locations((175.091334091, 7.493910357)):
            Circle(SKETCH_2_R_4, mode=Mode.SUBTRACT)
    # profile 3 of 4: a face of its own
    with BuildSketch(Plane.XY):
        with BuildLine():
            add(Edge.make_bspline(
                [(175.091334086, 16.644787486), (174.212389383, 16.789012746), (171.164330743, 17.283350355), (168.11310015, 17.757902557), (165.940456927, 18.085354477)],
                knots=[0.296903142, 0.296903142, 0.296903142, 0.296903142, 0.30724642, 0.332761263, 0.332761263, 0.332761263, 0.332761263], degree=3))
            Line((165.940456932, 18.08535451), (165.940456932, 7.493910465))
            ThreePointArc((165.940456932, 7.493910465), (168.620686836, 13.964557687), (175.09133409, 16.644787515))
        make_face()
    # profile 4 of 4: a face of its own
    with BuildSketch(Plane.XY):
        with BuildLine():
            ThreePointArc((175.091334091, -1.656966802), (168.62068676, 1.023263102), (165.940456932, 7.493910465))
            Line((165.940456932, 7.493910465), (165.940456932, -1.950382964))
            add(Edge.make_bspline(
                [(165.940456932, -1.950382964), (166.657896825, -1.926354441), (169.661989692, -1.826713582), (172.712313278, -1.729793129), (175.045239361, -1.65837681), (175.091334091, -1.656966802)],
                knots=[0.668278692, 0.668278692, 0.668278692, 0.668278692, 0.676775201, 0.703855228, 0.704401069, 0.704401069, 0.704401069, 0.704401069], degree=3))
        make_face()
    extrude(amount=EXTRUDE_2_DEPTH, both=True)


solid = part.part
